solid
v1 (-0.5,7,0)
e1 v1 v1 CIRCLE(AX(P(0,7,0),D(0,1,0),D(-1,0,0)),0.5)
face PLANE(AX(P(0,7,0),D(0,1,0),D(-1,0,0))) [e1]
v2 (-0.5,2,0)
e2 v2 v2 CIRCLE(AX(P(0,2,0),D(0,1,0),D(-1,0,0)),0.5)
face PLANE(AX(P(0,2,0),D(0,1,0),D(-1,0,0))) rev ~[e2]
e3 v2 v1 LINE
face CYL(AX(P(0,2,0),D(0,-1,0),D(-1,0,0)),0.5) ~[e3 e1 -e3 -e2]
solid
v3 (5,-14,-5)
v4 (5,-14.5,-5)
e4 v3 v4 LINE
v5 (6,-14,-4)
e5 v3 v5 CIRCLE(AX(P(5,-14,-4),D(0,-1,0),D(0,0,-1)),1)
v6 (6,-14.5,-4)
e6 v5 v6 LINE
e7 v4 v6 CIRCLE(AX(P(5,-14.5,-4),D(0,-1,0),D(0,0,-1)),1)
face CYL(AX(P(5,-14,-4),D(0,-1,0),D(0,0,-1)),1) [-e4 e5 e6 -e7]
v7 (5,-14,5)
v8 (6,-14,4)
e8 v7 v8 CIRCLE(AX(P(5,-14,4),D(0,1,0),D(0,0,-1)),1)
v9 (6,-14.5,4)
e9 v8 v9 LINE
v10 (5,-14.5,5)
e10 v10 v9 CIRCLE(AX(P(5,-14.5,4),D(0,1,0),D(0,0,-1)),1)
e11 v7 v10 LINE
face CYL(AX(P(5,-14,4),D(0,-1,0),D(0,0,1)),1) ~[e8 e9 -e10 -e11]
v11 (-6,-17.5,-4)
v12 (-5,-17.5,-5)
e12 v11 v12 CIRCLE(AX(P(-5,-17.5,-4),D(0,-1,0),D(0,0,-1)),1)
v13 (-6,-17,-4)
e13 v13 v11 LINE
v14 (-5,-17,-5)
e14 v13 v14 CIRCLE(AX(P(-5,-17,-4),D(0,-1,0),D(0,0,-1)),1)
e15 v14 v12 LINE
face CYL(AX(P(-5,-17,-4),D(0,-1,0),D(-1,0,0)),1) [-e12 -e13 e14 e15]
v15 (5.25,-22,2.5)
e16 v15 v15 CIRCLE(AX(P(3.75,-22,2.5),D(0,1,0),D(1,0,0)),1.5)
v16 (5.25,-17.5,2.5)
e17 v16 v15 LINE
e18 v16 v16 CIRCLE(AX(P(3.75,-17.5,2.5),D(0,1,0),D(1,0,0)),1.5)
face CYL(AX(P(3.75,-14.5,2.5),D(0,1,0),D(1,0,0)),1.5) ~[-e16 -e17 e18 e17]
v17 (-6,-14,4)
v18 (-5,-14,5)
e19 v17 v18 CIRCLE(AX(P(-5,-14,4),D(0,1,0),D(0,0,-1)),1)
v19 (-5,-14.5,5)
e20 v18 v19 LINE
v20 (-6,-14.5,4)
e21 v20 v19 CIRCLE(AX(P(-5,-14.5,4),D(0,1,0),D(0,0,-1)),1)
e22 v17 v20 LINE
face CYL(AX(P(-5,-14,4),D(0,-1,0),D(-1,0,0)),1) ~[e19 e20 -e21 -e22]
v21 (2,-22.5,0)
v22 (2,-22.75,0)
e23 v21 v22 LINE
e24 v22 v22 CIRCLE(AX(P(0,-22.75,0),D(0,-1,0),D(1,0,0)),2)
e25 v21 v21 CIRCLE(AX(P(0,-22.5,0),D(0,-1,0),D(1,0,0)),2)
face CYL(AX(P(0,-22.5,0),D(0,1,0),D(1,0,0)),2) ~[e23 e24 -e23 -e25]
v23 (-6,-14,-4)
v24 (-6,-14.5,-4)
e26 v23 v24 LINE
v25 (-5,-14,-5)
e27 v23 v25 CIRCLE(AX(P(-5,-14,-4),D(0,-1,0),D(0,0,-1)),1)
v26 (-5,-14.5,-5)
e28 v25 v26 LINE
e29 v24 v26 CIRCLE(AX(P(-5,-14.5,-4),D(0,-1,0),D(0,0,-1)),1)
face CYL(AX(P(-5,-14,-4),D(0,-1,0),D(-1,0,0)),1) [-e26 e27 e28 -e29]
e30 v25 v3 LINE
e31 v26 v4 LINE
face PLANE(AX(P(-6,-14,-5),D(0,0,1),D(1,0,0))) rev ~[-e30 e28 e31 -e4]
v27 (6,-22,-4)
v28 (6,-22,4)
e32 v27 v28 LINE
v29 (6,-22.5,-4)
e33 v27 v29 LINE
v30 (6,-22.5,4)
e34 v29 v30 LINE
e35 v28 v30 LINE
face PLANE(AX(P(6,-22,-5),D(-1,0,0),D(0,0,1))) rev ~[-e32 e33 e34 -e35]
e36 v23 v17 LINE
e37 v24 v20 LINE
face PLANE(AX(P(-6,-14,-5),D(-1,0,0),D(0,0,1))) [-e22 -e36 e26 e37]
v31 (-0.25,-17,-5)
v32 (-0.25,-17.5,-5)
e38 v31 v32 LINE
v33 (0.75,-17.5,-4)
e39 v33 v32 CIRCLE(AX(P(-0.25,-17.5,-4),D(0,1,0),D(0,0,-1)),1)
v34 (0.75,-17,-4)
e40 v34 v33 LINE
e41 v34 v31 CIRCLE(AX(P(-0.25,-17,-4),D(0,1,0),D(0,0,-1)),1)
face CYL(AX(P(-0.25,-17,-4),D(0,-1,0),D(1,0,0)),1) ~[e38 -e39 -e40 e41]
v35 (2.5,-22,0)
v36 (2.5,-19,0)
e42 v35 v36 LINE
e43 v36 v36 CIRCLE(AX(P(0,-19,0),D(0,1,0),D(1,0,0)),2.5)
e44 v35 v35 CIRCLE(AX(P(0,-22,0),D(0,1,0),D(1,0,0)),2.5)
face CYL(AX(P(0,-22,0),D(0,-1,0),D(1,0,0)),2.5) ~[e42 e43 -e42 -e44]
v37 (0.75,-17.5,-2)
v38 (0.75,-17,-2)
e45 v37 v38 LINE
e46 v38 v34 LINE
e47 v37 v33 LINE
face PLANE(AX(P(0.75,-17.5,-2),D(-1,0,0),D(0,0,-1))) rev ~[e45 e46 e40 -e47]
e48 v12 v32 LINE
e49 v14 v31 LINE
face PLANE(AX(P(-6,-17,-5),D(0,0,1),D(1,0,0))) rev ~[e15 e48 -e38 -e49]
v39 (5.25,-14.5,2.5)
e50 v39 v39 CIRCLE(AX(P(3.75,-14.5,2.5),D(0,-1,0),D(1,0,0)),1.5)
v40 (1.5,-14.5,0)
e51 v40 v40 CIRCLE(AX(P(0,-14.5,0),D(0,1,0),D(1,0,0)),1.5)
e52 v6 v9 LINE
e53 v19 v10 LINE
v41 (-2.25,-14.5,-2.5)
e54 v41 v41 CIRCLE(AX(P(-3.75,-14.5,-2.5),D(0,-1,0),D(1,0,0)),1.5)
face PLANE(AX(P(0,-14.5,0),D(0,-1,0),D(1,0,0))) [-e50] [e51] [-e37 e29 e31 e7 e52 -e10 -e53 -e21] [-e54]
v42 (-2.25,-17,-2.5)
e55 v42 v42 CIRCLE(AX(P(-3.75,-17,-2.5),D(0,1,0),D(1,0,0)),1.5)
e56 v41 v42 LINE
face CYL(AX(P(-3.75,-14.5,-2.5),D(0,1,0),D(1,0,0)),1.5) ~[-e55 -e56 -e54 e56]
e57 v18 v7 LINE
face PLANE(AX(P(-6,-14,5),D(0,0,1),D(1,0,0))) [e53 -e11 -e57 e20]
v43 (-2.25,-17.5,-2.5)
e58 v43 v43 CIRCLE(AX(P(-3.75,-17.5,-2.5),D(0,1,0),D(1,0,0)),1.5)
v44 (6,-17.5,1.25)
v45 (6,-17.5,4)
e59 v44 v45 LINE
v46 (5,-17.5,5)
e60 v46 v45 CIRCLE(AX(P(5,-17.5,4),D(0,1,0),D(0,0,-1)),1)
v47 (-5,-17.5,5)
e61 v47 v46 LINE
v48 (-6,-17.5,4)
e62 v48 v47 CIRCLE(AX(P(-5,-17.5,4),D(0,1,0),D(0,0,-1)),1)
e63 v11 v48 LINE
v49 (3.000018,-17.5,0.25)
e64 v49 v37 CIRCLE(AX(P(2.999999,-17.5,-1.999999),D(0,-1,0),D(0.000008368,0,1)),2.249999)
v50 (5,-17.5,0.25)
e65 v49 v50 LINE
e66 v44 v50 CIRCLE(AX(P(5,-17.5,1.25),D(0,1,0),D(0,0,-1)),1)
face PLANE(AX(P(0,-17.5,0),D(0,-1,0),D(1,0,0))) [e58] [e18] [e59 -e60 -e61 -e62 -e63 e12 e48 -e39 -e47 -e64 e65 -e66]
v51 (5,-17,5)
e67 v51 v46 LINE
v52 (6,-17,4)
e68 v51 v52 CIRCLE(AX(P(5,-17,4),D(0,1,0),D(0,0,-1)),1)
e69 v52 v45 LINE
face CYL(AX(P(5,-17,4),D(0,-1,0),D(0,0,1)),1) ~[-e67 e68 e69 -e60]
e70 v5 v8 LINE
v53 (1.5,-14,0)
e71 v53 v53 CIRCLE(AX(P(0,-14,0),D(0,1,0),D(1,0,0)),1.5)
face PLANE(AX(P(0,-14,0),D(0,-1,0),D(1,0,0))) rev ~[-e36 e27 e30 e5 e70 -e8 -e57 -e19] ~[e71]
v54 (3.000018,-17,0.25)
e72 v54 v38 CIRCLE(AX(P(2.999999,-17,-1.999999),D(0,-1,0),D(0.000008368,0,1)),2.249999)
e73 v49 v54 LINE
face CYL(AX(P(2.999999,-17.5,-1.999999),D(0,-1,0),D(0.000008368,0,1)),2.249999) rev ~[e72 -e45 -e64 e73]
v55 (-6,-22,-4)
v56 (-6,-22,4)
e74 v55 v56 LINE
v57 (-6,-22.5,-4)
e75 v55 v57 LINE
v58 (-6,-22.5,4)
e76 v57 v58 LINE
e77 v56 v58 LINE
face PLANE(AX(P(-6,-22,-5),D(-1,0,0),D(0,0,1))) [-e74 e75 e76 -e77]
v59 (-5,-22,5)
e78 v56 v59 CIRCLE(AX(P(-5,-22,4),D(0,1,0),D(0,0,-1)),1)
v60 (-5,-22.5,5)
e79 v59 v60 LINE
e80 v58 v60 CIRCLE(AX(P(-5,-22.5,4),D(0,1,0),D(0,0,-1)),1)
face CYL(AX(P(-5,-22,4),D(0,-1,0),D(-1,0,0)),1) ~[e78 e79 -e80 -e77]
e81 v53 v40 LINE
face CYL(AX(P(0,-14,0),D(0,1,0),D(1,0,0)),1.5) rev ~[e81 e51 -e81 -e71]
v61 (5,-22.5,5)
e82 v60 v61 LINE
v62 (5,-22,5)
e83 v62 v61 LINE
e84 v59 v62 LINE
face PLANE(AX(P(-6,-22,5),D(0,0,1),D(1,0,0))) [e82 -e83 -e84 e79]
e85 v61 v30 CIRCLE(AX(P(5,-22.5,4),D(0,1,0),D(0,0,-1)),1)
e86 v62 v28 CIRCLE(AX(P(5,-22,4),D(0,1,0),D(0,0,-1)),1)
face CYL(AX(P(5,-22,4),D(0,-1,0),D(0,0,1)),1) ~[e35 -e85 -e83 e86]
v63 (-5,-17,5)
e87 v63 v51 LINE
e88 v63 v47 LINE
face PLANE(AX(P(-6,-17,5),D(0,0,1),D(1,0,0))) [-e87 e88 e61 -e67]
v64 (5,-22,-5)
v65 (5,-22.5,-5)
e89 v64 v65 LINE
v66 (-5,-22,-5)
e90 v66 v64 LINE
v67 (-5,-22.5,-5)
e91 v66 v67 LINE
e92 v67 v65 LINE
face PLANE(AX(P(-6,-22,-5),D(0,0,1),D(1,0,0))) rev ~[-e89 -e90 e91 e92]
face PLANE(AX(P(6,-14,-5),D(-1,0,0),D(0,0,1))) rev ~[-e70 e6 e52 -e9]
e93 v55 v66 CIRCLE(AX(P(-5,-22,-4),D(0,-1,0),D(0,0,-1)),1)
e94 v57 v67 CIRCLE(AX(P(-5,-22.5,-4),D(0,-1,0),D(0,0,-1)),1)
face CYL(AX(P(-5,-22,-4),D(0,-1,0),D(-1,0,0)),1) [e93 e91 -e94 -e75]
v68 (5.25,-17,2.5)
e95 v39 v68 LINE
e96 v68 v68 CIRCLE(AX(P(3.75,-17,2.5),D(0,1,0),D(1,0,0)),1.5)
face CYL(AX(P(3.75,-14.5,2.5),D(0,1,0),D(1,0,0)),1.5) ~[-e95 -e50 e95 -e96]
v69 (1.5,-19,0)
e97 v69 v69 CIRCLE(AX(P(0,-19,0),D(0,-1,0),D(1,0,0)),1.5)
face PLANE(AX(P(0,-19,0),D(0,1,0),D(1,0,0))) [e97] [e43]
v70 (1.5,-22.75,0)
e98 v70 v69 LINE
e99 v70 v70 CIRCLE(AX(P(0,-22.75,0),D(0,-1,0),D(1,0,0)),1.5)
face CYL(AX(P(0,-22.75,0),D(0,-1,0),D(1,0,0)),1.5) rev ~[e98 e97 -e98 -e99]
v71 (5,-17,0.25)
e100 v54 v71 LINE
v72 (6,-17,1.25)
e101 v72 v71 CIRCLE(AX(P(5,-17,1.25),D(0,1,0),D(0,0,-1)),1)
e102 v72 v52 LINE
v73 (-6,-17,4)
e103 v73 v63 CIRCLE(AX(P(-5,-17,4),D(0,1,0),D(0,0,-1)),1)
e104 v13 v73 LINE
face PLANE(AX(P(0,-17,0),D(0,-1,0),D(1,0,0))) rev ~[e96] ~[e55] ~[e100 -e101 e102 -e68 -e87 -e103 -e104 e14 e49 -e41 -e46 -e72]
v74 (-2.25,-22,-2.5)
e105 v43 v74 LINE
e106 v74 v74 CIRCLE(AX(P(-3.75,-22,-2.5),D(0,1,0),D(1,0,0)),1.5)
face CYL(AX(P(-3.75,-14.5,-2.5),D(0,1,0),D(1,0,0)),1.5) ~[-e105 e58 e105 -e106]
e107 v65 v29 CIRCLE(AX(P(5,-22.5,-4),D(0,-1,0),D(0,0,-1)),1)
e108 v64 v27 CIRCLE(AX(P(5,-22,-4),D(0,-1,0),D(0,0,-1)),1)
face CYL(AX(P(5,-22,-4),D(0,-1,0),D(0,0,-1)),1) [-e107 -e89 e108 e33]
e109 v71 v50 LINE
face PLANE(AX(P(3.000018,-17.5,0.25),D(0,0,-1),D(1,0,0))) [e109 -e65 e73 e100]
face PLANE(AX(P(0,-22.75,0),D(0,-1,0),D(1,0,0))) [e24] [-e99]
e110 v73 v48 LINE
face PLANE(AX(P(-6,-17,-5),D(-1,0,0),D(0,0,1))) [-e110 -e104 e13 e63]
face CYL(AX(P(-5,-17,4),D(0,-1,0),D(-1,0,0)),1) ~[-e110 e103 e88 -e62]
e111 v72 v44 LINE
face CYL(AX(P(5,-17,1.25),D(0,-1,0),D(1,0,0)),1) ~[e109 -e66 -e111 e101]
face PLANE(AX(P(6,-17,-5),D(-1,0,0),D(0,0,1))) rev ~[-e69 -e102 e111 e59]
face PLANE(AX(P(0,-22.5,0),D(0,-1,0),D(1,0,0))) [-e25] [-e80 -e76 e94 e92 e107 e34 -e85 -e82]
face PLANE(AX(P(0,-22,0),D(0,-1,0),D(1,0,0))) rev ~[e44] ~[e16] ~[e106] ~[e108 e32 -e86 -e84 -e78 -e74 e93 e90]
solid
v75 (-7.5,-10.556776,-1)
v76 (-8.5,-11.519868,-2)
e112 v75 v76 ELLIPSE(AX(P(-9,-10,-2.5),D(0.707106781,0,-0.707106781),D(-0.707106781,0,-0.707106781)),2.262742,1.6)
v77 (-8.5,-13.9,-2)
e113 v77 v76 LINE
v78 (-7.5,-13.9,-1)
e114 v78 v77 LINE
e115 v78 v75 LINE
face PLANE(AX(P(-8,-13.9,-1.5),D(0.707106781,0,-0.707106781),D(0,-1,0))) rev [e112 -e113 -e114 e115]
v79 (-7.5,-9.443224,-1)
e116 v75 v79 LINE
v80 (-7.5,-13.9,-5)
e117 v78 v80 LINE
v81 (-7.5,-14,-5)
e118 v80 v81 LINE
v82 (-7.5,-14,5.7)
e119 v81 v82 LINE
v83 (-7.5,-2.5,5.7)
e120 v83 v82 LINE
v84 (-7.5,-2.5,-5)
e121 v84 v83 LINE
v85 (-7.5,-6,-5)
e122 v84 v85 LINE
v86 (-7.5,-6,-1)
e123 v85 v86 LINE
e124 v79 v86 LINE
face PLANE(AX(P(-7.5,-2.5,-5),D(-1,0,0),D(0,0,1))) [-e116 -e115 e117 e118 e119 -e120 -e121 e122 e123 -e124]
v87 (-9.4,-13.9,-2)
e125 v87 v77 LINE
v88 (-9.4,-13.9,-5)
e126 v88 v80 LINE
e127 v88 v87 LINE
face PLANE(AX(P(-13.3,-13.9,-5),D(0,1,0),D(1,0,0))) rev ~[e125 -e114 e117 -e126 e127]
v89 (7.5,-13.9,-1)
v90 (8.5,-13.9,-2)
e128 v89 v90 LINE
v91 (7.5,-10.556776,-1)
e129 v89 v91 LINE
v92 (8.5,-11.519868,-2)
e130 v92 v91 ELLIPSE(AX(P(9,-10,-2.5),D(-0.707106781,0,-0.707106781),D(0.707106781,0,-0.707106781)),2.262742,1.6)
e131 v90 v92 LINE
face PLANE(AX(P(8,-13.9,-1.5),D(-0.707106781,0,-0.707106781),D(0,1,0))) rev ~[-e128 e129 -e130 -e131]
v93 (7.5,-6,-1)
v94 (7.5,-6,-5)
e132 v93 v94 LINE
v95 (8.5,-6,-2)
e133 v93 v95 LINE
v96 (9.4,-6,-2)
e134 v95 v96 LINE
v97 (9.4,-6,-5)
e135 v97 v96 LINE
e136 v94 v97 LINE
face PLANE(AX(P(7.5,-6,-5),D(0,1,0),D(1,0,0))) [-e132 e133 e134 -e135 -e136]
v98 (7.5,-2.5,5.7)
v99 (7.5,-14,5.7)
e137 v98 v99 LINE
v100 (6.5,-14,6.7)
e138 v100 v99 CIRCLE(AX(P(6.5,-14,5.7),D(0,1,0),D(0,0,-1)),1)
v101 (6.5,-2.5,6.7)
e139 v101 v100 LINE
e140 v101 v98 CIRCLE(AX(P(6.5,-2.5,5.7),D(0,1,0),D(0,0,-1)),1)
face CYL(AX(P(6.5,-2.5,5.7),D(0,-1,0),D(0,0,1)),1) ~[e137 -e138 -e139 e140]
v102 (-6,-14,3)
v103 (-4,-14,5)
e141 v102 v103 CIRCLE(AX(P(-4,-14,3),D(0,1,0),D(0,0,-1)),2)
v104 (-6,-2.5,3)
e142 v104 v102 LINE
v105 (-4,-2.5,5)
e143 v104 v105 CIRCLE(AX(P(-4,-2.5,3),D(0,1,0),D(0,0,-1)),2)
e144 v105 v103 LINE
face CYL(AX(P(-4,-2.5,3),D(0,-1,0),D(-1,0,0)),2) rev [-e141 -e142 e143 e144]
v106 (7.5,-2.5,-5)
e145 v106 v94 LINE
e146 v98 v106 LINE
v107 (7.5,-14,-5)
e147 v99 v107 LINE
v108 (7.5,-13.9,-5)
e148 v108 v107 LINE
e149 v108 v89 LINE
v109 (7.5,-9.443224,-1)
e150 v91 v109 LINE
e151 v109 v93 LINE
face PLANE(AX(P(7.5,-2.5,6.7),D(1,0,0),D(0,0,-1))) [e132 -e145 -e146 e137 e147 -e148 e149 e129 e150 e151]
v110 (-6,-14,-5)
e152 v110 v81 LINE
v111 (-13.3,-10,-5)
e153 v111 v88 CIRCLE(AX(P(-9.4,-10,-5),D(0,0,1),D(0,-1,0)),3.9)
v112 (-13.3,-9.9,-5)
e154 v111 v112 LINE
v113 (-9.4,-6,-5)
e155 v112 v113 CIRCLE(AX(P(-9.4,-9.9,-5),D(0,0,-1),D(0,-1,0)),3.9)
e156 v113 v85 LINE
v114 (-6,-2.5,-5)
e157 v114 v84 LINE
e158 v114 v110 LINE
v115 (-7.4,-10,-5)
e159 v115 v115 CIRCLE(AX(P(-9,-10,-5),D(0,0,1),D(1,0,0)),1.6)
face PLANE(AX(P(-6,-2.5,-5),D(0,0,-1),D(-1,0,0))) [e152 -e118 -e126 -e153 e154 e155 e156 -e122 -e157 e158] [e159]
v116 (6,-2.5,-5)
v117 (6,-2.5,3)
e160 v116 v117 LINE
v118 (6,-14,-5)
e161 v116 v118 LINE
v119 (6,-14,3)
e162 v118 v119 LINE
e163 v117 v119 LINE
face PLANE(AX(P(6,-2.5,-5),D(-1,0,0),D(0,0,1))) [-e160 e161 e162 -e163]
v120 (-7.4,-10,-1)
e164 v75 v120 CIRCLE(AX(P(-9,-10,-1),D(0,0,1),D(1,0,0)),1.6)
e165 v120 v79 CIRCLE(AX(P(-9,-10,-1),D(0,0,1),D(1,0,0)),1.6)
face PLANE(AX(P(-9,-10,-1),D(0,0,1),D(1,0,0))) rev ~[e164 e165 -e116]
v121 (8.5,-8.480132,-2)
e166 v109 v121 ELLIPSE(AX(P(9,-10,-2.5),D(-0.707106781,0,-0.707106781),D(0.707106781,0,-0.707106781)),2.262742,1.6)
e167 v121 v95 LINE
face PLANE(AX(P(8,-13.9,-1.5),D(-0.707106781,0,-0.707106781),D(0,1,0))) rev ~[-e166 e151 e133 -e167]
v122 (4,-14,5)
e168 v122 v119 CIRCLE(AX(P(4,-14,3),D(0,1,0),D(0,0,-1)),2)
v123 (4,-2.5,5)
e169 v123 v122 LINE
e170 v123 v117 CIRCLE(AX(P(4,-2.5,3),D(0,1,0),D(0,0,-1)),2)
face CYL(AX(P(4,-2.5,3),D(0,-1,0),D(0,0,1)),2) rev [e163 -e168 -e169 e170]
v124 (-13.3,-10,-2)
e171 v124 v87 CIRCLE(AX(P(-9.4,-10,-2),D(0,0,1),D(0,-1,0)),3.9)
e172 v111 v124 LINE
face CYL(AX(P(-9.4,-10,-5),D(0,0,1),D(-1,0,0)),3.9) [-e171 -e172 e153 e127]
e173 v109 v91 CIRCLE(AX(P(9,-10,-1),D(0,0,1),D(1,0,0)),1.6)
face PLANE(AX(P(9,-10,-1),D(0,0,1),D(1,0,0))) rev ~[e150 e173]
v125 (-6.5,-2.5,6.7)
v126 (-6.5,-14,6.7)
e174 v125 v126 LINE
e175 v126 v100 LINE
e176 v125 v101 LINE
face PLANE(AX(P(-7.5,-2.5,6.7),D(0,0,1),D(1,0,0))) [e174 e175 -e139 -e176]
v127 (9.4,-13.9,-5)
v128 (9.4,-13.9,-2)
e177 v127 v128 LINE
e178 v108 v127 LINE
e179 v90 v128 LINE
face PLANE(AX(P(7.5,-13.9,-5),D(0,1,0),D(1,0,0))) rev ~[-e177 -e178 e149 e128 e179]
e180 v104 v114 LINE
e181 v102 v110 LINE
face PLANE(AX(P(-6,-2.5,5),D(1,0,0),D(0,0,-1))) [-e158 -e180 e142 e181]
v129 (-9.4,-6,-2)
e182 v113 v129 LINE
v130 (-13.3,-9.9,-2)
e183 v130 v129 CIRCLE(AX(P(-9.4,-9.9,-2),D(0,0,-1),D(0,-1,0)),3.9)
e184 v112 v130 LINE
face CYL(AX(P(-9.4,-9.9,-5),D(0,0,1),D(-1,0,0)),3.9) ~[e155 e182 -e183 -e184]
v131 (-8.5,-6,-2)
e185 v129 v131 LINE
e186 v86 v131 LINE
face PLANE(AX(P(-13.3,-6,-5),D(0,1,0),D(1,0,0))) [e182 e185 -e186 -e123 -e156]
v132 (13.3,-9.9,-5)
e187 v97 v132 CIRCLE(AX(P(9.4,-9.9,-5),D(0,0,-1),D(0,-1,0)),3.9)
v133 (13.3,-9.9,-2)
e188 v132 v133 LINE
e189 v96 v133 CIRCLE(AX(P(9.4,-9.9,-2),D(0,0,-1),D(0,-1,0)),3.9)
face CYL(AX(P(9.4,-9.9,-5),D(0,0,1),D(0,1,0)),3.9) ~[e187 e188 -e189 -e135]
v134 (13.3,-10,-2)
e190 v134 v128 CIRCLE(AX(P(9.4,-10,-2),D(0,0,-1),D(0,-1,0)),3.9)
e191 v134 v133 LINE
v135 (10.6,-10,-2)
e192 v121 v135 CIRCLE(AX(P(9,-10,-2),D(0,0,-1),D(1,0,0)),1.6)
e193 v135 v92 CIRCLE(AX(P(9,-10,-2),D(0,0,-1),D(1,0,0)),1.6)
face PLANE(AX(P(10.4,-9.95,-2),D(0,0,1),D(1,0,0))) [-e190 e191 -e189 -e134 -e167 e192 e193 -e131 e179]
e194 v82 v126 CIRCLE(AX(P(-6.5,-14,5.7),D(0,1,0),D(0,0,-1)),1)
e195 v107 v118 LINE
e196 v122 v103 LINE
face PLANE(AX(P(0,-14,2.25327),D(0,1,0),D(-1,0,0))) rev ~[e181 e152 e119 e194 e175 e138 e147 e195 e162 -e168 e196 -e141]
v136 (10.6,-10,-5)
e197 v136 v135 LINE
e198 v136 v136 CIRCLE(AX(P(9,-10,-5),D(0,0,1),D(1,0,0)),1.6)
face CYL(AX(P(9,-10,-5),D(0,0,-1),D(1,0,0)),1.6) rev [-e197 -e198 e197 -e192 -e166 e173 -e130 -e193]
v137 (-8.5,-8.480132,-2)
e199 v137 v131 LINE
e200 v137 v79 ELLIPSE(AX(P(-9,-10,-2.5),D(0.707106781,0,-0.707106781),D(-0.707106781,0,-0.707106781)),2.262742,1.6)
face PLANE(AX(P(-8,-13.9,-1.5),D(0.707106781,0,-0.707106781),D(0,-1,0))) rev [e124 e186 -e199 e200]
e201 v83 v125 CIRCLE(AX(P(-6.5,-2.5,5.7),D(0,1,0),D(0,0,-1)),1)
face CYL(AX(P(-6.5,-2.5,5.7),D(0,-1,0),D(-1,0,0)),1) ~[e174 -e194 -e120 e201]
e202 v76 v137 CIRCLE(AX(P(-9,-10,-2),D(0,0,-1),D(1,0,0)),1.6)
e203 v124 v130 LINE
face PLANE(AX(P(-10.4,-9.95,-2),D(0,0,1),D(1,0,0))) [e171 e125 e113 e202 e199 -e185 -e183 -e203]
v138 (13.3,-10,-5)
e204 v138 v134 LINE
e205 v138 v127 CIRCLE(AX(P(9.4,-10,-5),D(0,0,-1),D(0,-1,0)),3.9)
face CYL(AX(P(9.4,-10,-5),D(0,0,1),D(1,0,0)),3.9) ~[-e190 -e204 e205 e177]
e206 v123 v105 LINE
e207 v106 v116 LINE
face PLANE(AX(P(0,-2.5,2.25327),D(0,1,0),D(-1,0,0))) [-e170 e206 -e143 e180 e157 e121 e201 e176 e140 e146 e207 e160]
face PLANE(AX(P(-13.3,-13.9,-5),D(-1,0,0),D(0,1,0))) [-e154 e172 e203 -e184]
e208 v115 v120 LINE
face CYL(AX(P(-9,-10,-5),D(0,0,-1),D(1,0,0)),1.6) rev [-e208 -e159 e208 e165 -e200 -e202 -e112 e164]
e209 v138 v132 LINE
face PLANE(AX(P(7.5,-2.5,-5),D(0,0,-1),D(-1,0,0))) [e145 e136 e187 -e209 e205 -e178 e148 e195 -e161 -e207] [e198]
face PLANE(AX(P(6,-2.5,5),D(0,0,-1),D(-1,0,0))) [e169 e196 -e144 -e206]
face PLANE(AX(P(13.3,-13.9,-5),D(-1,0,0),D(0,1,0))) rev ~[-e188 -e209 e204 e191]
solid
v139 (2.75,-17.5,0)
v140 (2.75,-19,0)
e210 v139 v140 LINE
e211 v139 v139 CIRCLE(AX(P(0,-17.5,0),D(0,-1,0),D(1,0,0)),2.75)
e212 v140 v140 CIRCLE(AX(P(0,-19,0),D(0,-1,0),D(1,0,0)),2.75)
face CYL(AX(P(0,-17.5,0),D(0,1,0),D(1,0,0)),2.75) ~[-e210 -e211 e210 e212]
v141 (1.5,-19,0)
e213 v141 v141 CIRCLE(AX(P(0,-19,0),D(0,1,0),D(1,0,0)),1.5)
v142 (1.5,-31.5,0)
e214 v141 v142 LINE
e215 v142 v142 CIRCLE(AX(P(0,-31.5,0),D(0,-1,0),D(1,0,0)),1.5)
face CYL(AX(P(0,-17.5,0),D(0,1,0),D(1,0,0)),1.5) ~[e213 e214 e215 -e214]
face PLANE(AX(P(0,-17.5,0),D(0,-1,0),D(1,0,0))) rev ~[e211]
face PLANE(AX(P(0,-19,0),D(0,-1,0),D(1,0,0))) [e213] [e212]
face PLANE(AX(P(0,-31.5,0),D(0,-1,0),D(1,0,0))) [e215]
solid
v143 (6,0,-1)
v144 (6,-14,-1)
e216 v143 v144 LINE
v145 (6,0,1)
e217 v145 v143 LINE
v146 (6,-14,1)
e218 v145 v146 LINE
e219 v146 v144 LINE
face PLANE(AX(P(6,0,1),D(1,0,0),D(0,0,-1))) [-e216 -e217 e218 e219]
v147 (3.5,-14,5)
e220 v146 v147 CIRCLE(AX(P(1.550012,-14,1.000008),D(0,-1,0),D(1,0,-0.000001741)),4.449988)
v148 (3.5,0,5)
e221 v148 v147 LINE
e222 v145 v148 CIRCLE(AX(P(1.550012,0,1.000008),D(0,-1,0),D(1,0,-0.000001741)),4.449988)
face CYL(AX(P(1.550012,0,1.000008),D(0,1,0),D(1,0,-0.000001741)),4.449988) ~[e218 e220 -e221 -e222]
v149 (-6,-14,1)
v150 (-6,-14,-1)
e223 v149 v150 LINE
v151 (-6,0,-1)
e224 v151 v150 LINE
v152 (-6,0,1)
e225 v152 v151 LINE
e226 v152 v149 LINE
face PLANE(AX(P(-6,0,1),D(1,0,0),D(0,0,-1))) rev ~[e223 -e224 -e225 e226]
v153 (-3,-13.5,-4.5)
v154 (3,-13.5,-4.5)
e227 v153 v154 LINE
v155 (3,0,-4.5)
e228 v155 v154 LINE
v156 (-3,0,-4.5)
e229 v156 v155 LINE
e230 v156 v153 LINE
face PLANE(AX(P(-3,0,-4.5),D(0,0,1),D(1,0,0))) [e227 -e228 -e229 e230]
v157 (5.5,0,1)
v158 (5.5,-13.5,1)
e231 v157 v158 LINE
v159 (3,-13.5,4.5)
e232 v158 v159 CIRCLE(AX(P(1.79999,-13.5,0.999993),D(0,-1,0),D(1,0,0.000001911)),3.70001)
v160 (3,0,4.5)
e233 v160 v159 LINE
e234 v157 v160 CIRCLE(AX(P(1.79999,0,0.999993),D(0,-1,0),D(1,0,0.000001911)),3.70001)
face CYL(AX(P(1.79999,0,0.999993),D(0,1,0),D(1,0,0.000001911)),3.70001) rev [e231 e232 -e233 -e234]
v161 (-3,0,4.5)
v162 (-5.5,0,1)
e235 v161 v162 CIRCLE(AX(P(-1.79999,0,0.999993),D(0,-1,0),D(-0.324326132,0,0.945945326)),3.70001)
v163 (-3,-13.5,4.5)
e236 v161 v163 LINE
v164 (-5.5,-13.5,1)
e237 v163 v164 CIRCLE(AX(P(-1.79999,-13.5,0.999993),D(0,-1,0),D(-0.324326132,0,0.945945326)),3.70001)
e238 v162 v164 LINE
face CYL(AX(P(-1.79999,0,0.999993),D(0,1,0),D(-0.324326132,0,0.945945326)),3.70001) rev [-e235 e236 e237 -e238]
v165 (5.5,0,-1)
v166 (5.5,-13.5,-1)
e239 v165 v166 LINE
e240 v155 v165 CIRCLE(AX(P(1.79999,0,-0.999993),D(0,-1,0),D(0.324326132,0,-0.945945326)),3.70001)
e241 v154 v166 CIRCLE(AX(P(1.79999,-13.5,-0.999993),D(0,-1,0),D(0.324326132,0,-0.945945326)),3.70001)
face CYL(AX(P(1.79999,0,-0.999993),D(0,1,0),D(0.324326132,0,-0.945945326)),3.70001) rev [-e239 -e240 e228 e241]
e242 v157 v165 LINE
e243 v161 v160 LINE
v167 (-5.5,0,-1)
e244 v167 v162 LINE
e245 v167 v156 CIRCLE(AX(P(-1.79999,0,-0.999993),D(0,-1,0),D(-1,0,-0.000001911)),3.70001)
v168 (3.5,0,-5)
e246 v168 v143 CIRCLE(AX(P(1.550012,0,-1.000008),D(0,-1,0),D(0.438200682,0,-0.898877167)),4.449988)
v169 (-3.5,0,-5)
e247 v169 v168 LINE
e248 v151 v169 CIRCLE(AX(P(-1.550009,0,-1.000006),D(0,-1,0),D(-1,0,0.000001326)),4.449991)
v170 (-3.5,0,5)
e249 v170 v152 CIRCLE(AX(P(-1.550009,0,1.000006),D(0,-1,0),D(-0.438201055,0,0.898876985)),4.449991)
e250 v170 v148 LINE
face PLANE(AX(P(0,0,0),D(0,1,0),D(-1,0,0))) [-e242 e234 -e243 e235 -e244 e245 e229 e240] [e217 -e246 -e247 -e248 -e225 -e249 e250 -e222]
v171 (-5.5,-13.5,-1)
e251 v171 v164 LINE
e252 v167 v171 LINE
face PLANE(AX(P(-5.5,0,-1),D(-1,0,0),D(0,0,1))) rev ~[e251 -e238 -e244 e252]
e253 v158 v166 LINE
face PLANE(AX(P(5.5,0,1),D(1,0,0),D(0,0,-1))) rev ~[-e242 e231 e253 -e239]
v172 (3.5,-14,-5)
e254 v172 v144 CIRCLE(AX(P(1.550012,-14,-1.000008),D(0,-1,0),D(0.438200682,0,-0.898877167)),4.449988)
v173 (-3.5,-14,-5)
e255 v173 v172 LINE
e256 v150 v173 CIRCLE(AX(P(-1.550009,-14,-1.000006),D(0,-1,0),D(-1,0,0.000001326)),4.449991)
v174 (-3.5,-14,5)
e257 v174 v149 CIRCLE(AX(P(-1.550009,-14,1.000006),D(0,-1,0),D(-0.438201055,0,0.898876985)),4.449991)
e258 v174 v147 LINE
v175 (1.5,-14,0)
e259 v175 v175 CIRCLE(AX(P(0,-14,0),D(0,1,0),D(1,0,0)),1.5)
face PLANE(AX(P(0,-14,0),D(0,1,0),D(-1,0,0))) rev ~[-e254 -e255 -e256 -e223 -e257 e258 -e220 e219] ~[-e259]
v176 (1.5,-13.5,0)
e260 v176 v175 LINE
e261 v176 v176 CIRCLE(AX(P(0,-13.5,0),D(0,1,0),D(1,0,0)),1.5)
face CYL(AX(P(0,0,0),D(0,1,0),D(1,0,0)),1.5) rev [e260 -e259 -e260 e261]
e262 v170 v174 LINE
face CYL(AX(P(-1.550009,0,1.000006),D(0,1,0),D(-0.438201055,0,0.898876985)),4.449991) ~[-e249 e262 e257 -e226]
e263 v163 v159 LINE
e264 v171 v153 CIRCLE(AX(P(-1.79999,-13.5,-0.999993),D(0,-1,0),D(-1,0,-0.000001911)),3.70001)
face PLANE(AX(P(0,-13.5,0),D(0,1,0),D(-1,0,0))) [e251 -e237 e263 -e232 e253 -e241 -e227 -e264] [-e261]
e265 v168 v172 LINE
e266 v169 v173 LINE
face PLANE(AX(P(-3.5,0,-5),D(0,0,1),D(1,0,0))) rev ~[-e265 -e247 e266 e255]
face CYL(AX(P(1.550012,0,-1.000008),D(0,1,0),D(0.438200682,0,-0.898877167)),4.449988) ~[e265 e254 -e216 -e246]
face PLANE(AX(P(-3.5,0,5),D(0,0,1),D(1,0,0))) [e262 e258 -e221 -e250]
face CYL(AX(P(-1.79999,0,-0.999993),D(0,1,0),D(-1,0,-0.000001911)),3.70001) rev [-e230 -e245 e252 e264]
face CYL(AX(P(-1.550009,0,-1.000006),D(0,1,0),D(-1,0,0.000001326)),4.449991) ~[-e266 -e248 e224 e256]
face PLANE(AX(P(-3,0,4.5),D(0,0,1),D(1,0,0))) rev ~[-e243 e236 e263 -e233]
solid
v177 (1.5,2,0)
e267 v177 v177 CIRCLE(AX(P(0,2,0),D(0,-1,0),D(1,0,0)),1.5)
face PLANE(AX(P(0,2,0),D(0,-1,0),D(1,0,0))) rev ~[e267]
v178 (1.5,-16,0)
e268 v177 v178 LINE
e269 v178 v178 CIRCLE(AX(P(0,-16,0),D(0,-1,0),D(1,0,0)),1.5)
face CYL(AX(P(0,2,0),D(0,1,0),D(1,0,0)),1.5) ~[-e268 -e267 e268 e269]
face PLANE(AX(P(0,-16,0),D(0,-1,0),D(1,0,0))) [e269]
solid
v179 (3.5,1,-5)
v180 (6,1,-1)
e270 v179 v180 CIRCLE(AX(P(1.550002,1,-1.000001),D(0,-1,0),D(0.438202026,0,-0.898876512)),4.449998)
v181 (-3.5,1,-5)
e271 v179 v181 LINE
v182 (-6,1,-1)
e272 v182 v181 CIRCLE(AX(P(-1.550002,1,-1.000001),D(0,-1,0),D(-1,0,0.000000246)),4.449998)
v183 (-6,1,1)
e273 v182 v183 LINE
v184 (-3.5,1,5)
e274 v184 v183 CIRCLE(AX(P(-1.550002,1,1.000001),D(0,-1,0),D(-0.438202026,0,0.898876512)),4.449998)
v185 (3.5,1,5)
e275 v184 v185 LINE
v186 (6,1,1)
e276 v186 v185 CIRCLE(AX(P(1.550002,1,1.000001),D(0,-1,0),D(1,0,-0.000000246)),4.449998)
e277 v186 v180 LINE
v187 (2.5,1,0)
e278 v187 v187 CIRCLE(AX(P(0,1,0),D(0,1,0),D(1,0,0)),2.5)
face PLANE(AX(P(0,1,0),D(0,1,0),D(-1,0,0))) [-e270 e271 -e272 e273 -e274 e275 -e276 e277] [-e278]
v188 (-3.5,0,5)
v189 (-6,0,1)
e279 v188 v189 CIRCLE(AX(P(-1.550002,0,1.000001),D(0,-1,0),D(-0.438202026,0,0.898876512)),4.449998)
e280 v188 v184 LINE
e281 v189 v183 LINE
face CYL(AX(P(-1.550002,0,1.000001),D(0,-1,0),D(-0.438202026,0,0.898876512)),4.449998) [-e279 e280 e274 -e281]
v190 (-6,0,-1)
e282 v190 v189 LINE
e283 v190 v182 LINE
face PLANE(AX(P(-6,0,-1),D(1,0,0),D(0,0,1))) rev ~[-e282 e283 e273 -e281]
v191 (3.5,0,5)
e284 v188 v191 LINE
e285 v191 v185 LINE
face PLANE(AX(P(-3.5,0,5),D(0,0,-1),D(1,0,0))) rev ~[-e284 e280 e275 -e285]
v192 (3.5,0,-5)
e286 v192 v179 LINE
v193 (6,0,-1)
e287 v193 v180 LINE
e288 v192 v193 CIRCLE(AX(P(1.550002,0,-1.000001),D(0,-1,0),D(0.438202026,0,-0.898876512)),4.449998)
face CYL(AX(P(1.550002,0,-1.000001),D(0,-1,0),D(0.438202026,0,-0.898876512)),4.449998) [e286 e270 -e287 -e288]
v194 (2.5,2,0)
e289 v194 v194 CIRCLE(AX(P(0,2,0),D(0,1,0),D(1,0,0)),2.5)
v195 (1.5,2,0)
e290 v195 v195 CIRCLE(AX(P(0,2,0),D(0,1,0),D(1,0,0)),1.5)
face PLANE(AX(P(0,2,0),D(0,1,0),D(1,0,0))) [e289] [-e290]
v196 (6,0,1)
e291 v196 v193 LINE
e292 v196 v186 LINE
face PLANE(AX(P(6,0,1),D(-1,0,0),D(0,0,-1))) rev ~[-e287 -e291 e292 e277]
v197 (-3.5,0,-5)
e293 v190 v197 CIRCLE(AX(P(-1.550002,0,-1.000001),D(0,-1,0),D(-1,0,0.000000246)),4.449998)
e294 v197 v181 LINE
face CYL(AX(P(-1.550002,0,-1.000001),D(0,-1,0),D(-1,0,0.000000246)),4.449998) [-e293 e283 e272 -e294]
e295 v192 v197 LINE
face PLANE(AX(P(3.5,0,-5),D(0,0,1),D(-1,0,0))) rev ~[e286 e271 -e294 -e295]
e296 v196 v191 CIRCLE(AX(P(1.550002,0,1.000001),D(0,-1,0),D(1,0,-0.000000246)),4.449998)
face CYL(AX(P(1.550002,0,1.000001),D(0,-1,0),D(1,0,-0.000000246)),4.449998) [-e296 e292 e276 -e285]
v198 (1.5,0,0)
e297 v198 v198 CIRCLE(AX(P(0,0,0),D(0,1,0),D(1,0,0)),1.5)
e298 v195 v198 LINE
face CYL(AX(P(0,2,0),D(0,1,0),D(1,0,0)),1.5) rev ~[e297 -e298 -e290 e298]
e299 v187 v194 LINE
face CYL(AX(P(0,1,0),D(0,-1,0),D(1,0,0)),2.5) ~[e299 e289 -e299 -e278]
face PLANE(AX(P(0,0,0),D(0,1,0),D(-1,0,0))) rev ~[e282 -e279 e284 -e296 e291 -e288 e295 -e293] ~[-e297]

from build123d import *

# Parameters (mm, degrees)
PAD_DEPTH       = 14
POCKET_DEPTH    = 13.5
SKETCH002_R     = 1.5
POCKET001_DEPTH = 14.001
PAD001_DEPTH    = 1
SKETCH004_R     = 2.5
PAD002_DEPTH    = 1
SKETCH005_R     = 1.5
POCKET002_DEPTH = 2.001
SKETCH006_W     = 12
SKETCH006_H     = 10
PAD003_DEPTH    = 0.5
SKETCH007_R     = 1.5
PAD004_DEPTH    = 7.7
SKETCH008_W     = 12
SKETCH008_H     = 10
PAD005_DEPTH    = 0.5
SKETCH009_W     = 12
SKETCH009_H     = 10
PAD006_DEPTH    = 0.5
SKETCH010_R     = 2
PAD007_DEPTH    = 0.25
SKETCH011_R     = 2.5
PAD008_DEPTH    = 3
SKETCH012_R     = 1.5
POCKET003_DEPTH = 5
POCKET004_DEPTH = 1
FILLET_R        = 1
SKETCH014_R     = 1.5
POCKET005_DEPTH = 2
SKETCH015_R     = 1.5
PAD009_DEPTH    = 18
SKETCH016_R     = 1.5
PAD010_DEPTH    = 14
SKETCH017_R     = 2.75
PAD011_DEPTH    = 1.5
PAD012_DEPTH    = 11.5
FILLET001_R     = 1
FILLET002_R     = 2
SKETCH019_W     = 5.8
SKETCH019_H     = 7.9
PAD013_DEPTH    = 3
CHAMFER_SIZE    = 1
FILLET003_R     = 3.9
SKETCH020_R     = 1.6
POCKET006_DEPTH = 4
SKETCH021_R     = 0.5
PAD014_DEPTH    = 5


with BuildPart() as motorshell:
    # Sketch → Pad (new body)
    with BuildSketch(Plane.XZ):
        with BuildLine():
            Line((-3.5, 5), (3.5, 5))
            ThreePointArc((6, 1), (5.323594, 3.358497), (3.5, 5))
            Line((6, 1), (6, -1))
            ThreePointArc((3.5, -5), (5.323594, -3.358497), (6, -1))
            Line((-3.5, -5), (3.5, -5))
            ThreePointArc((-6, -1), (-5.323594, -3.358496), (-3.5, -5))
            Line((-6, 1), (-6, -1))
            ThreePointArc((-3.5, 5), (-5.323594, 3.358496), (-6, 1))
        make_face()
    extrude(amount=PAD_DEPTH)

    # Sketch001 → Pocket (cut)
    with BuildSketch(Plane.XZ):
        with BuildLine():
            Line((-3, 4.5), (3, 4.5))
            ThreePointArc((5.5, 1), (4.810812, 3.15058), (3, 4.5))
            Line((5.5, 1), (5.5, -1))
            ThreePointArc((3, -4.5), (4.810812, -3.15058), (5.5, -1))
            Line((-3, -4.5), (3, -4.5))
            ThreePointArc((-5.5, -1), (-4.810812, -3.15058), (-3, -4.5))
            Line((-5.5, -1), (-5.5, 1))
            ThreePointArc((-3, 4.5), (-4.810812, 3.15058), (-5.5, 1))
        make_face()
    extrude(amount=POCKET_DEPTH, mode=Mode.SUBTRACT)

    # Sketch002 → Pocket001 (cut, through all)
    with BuildSketch(Plane.XZ):
        Circle(SKETCH002_R)
    extrude(amount=POCKET001_DEPTH, mode=Mode.SUBTRACT)


with BuildPart() as backplate:
    # Sketch003 → Pad001 (new body)
    with BuildSketch(Plane.XZ):
        with BuildLine():
            Line((-3.5, 5), (3.5, 5))
            ThreePointArc((6, 1), (5.323593, 3.358495), (3.5, 5))
            Line((6, 1), (6, -1))
            ThreePointArc((3.5, -5), (5.323593, -3.358495), (6, -1))
            Line((3.5, -5), (-3.5, -5))
            ThreePointArc((-6, -1), (-5.323593, -3.358495), (-3.5, -5))
            Line((-6, -1), (-6, 1))
            ThreePointArc((-3.5, 5), (-5.323593, 3.358495), (-6, 1))
        make_face()
    extrude(amount=-PAD001_DEPTH)

    # Sketch004 (on Face10 of Pad001) → Pad002 (join)
    with BuildSketch(Plane(origin=(0, 1, 0), x_dir=(1, 0, 0), z_dir=(0, 1, 0))):
        Circle(SKETCH004_R)
    extrude(amount=PAD002_DEPTH)

    # Sketch005 (on Face12 of Pad002) → Pocket002 (cut, through all)
    with BuildSketch(Plane(origin=(0, 2, 0), x_dir=(1, 0, 0), z_dir=(0, 1, 0))):
        Circle(SKETCH005_R)
    extrude(amount=-POCKET002_DEPTH, mode=Mode.SUBTRACT)


with BuildPart() as gearplates:
    # Sketch006 (on DatumPlane) → Pad003 (new body)
    with BuildSketch(Plane.XZ.offset(14)):
        Rectangle(SKETCH006_W, SKETCH006_H)
    extrude(amount=PAD003_DEPTH)

    # Sketch007 (on Face6 of Pad003) → Pad004 (join)
    with BuildSketch(Plane.XZ.offset(14.5)):
        with Locations((3.75, 2.5)):
            Circle(SKETCH007_R)
        with Locations((-3.75, -2.5)):
            Circle(SKETCH007_R)
    extrude(amount=PAD004_DEPTH)

    # Sketch008 (on DatumPlane) → Pad005 (join)
    with BuildSketch(Plane.XZ.offset(17)):
        Rectangle(SKETCH008_W, SKETCH008_H)
    extrude(amount=PAD005_DEPTH)

    # Sketch009 (on DatumPlane) → Pad006 (join)
    with BuildSketch(Plane.XZ.offset(22)):
        Rectangle(SKETCH009_W, SKETCH009_H)
    extrude(amount=PAD006_DEPTH)

    # Sketch010 (on Face22 of Pad006) → Pad007 (join)
    with BuildSketch(Plane.XZ.offset(22.5)):
        Circle(SKETCH010_R)
    extrude(amount=PAD007_DEPTH)

    # Sketch011 (on Face17 of Pad007) → Pad008 (join)
    with BuildSketch(Plane(origin=(0, -22, 0), x_dir=(1, 0, 0), z_dir=(0, 1, 0))):
        Circle(SKETCH011_R)
    extrude(amount=PAD008_DEPTH)

    # Sketch012 (on Face26 of Pad008) → Pocket003 (cut)
    with BuildSketch(Plane.XZ.offset(22.75)):
        Circle(SKETCH012_R)
    extrude(amount=-POCKET003_DEPTH, mode=Mode.SUBTRACT)

    # Sketch013 (on Face14 of Pocket003) → Pocket004 (cut)
    with BuildSketch(Plane.XZ.offset(17.5)):
        with BuildLine():
            Line((7.000018, 0.25), (7.000018, -6))
            Line((7.000018, -6), (0.75, -6))
            Line((0.75, -2), (0.75, -6))
            ThreePointArc((3.000018, 0.25), (1.409016, -0.409003), (0.75, -2))
            Line((3.000018, 0.25), (7.000018, 0.25))
        make_face()
    extrude(amount=-POCKET004_DEPTH, mode=Mode.SUBTRACT)

    # Fillet
    fillet_edges = [gearplates.edges().sort_by_distance(p)[0] for p in [
        (6, -22.25, 5),
        (6, -17.25, 5),
        (6, -14.25, 5),
        (-6, -22.25, 5),
        (-6, -17.25, 5),
        (-6, -14.25, 5),
        (-6, -22.25, -5),
        (-6, -17.25, -5),
        (-6, -14.25, -5),
        (6, -22.25, -5),
        (6, -14.25, -5),
        (6, -17.25, 0.25),
        (0.75, -17.25, -5),
    ]]
    fillet(fillet_edges, radius=FILLET_R)

    # Sketch014 (on Face2 of Fillet) → Pocket005 (cut)
    with BuildSketch(Plane(origin=(0, -14, 0), x_dir=(1, 0, 0), z_dir=(0, 1, 0))):
        Circle(SKETCH014_R)
    extrude(amount=-POCKET005_DEPTH, mode=Mode.SUBTRACT)


with BuildPart() as motorshaft:
    # Sketch015 (on DatumPlane) → Pad009 (new body)
    with BuildSketch(Plane.XZ.offset(-2)):
        Circle(SKETCH015_R)
    extrude(amount=PAD009_DEPTH)


with BuildPart() as wheelshaft:
    # Sketch016 (on DatumPlane) → Pad010 (new body)
    with BuildSketch(Plane.XZ.offset(17.5)):
        Circle(SKETCH016_R)
    extrude(amount=PAD010_DEPTH)

    # Sketch017 (on DatumPlane) → Pad011 (join)
    with BuildSketch(Plane.XZ.offset(17.5)):
        Circle(SKETCH017_R)
    extrude(amount=PAD011_DEPTH)


with BuildPart() as mountbracket:
    # Sketch018 (on DatumPlane) → Pad012 (new body)
    with BuildSketch(Plane.XZ.offset(2.5)):
        Polygon((-7.5, -5), (-7.5, 6.7), (7.5, 6.7), (7.5, -5), (6, -5), (6, 5), (-6, 5), (-6, -5), align=None)
    extrude(amount=PAD012_DEPTH)

    # Fillet001
    fillet001_edges = [mountbracket.edges().sort_by_distance(p)[0] for p in [
        (-7.5, -8.25, 6.7),
        (7.5, -8.25, 6.7),
    ]]
    fillet(fillet001_edges, radius=FILLET001_R)

    # Fillet002
    fillet002_edges = [mountbracket.edges().sort_by_distance(p)[0] for p in [
        (6, -8.25, 5),
        (-6, -8.25, 5),
    ]]
    fillet(fillet002_edges, radius=FILLET002_R)

    # Sketch019 (on DatumPlane) → Pad013 (join)
    with BuildSketch(Plane.XY.offset(-5)):
        with Locations((10.4, -9.95)):
            Rectangle(SKETCH019_W, SKETCH019_H)
        with Locations((-10.4, -9.95)):
            Rectangle(SKETCH019_W, SKETCH019_H)
    extrude(amount=PAD013_DEPTH)

    # Chamfer
    chamfer_edges = [mountbracket.edges().sort_by_distance(p)[0] for p in [
        (7.5, -9.95, -2),
        (-7.5, -9.95, -2),
    ]]
    chamfer(chamfer_edges, length=CHAMFER_SIZE)

    # Fillet003
    fillet003_edges = [mountbracket.edges().sort_by_distance(p)[0] for p in [
        (13.3, -6, -3.5),
        (13.3, -13.9, -3.5),
        (-13.3, -13.9, -3.5),
        (-13.3, -6, -3.5),
    ]]
    fillet(fillet003_edges, radius=FILLET003_R)

    # Sketch020 (on DatumPlane) → Pocket006 (cut)
    with BuildSketch(Plane.XY.offset(-5)):
        with Locations((-9, -10)):
            Circle(SKETCH020_R)
        with Locations((9, -10)):
            Circle(SKETCH020_R)
    extrude(amount=POCKET006_DEPTH, mode=Mode.SUBTRACT)


with BuildPart() as extendedbackshaft:
    # Sketch021 (on Face1 of CopyPad009) → Pad014 (new body)
    with BuildSketch(Plane(origin=(0, 2, 0), x_dir=(-1, 0, 0), z_dir=(0, 1, 0))):
        Circle(SKETCH021_R)
    extrude(amount=PAD014_DEPTH)


solid = Compound([motorshell.part, backplate.part, gearplates.part, motorshaft.part, wheelshaft.part, mountbracket.part, extendedbackshaft.part])
